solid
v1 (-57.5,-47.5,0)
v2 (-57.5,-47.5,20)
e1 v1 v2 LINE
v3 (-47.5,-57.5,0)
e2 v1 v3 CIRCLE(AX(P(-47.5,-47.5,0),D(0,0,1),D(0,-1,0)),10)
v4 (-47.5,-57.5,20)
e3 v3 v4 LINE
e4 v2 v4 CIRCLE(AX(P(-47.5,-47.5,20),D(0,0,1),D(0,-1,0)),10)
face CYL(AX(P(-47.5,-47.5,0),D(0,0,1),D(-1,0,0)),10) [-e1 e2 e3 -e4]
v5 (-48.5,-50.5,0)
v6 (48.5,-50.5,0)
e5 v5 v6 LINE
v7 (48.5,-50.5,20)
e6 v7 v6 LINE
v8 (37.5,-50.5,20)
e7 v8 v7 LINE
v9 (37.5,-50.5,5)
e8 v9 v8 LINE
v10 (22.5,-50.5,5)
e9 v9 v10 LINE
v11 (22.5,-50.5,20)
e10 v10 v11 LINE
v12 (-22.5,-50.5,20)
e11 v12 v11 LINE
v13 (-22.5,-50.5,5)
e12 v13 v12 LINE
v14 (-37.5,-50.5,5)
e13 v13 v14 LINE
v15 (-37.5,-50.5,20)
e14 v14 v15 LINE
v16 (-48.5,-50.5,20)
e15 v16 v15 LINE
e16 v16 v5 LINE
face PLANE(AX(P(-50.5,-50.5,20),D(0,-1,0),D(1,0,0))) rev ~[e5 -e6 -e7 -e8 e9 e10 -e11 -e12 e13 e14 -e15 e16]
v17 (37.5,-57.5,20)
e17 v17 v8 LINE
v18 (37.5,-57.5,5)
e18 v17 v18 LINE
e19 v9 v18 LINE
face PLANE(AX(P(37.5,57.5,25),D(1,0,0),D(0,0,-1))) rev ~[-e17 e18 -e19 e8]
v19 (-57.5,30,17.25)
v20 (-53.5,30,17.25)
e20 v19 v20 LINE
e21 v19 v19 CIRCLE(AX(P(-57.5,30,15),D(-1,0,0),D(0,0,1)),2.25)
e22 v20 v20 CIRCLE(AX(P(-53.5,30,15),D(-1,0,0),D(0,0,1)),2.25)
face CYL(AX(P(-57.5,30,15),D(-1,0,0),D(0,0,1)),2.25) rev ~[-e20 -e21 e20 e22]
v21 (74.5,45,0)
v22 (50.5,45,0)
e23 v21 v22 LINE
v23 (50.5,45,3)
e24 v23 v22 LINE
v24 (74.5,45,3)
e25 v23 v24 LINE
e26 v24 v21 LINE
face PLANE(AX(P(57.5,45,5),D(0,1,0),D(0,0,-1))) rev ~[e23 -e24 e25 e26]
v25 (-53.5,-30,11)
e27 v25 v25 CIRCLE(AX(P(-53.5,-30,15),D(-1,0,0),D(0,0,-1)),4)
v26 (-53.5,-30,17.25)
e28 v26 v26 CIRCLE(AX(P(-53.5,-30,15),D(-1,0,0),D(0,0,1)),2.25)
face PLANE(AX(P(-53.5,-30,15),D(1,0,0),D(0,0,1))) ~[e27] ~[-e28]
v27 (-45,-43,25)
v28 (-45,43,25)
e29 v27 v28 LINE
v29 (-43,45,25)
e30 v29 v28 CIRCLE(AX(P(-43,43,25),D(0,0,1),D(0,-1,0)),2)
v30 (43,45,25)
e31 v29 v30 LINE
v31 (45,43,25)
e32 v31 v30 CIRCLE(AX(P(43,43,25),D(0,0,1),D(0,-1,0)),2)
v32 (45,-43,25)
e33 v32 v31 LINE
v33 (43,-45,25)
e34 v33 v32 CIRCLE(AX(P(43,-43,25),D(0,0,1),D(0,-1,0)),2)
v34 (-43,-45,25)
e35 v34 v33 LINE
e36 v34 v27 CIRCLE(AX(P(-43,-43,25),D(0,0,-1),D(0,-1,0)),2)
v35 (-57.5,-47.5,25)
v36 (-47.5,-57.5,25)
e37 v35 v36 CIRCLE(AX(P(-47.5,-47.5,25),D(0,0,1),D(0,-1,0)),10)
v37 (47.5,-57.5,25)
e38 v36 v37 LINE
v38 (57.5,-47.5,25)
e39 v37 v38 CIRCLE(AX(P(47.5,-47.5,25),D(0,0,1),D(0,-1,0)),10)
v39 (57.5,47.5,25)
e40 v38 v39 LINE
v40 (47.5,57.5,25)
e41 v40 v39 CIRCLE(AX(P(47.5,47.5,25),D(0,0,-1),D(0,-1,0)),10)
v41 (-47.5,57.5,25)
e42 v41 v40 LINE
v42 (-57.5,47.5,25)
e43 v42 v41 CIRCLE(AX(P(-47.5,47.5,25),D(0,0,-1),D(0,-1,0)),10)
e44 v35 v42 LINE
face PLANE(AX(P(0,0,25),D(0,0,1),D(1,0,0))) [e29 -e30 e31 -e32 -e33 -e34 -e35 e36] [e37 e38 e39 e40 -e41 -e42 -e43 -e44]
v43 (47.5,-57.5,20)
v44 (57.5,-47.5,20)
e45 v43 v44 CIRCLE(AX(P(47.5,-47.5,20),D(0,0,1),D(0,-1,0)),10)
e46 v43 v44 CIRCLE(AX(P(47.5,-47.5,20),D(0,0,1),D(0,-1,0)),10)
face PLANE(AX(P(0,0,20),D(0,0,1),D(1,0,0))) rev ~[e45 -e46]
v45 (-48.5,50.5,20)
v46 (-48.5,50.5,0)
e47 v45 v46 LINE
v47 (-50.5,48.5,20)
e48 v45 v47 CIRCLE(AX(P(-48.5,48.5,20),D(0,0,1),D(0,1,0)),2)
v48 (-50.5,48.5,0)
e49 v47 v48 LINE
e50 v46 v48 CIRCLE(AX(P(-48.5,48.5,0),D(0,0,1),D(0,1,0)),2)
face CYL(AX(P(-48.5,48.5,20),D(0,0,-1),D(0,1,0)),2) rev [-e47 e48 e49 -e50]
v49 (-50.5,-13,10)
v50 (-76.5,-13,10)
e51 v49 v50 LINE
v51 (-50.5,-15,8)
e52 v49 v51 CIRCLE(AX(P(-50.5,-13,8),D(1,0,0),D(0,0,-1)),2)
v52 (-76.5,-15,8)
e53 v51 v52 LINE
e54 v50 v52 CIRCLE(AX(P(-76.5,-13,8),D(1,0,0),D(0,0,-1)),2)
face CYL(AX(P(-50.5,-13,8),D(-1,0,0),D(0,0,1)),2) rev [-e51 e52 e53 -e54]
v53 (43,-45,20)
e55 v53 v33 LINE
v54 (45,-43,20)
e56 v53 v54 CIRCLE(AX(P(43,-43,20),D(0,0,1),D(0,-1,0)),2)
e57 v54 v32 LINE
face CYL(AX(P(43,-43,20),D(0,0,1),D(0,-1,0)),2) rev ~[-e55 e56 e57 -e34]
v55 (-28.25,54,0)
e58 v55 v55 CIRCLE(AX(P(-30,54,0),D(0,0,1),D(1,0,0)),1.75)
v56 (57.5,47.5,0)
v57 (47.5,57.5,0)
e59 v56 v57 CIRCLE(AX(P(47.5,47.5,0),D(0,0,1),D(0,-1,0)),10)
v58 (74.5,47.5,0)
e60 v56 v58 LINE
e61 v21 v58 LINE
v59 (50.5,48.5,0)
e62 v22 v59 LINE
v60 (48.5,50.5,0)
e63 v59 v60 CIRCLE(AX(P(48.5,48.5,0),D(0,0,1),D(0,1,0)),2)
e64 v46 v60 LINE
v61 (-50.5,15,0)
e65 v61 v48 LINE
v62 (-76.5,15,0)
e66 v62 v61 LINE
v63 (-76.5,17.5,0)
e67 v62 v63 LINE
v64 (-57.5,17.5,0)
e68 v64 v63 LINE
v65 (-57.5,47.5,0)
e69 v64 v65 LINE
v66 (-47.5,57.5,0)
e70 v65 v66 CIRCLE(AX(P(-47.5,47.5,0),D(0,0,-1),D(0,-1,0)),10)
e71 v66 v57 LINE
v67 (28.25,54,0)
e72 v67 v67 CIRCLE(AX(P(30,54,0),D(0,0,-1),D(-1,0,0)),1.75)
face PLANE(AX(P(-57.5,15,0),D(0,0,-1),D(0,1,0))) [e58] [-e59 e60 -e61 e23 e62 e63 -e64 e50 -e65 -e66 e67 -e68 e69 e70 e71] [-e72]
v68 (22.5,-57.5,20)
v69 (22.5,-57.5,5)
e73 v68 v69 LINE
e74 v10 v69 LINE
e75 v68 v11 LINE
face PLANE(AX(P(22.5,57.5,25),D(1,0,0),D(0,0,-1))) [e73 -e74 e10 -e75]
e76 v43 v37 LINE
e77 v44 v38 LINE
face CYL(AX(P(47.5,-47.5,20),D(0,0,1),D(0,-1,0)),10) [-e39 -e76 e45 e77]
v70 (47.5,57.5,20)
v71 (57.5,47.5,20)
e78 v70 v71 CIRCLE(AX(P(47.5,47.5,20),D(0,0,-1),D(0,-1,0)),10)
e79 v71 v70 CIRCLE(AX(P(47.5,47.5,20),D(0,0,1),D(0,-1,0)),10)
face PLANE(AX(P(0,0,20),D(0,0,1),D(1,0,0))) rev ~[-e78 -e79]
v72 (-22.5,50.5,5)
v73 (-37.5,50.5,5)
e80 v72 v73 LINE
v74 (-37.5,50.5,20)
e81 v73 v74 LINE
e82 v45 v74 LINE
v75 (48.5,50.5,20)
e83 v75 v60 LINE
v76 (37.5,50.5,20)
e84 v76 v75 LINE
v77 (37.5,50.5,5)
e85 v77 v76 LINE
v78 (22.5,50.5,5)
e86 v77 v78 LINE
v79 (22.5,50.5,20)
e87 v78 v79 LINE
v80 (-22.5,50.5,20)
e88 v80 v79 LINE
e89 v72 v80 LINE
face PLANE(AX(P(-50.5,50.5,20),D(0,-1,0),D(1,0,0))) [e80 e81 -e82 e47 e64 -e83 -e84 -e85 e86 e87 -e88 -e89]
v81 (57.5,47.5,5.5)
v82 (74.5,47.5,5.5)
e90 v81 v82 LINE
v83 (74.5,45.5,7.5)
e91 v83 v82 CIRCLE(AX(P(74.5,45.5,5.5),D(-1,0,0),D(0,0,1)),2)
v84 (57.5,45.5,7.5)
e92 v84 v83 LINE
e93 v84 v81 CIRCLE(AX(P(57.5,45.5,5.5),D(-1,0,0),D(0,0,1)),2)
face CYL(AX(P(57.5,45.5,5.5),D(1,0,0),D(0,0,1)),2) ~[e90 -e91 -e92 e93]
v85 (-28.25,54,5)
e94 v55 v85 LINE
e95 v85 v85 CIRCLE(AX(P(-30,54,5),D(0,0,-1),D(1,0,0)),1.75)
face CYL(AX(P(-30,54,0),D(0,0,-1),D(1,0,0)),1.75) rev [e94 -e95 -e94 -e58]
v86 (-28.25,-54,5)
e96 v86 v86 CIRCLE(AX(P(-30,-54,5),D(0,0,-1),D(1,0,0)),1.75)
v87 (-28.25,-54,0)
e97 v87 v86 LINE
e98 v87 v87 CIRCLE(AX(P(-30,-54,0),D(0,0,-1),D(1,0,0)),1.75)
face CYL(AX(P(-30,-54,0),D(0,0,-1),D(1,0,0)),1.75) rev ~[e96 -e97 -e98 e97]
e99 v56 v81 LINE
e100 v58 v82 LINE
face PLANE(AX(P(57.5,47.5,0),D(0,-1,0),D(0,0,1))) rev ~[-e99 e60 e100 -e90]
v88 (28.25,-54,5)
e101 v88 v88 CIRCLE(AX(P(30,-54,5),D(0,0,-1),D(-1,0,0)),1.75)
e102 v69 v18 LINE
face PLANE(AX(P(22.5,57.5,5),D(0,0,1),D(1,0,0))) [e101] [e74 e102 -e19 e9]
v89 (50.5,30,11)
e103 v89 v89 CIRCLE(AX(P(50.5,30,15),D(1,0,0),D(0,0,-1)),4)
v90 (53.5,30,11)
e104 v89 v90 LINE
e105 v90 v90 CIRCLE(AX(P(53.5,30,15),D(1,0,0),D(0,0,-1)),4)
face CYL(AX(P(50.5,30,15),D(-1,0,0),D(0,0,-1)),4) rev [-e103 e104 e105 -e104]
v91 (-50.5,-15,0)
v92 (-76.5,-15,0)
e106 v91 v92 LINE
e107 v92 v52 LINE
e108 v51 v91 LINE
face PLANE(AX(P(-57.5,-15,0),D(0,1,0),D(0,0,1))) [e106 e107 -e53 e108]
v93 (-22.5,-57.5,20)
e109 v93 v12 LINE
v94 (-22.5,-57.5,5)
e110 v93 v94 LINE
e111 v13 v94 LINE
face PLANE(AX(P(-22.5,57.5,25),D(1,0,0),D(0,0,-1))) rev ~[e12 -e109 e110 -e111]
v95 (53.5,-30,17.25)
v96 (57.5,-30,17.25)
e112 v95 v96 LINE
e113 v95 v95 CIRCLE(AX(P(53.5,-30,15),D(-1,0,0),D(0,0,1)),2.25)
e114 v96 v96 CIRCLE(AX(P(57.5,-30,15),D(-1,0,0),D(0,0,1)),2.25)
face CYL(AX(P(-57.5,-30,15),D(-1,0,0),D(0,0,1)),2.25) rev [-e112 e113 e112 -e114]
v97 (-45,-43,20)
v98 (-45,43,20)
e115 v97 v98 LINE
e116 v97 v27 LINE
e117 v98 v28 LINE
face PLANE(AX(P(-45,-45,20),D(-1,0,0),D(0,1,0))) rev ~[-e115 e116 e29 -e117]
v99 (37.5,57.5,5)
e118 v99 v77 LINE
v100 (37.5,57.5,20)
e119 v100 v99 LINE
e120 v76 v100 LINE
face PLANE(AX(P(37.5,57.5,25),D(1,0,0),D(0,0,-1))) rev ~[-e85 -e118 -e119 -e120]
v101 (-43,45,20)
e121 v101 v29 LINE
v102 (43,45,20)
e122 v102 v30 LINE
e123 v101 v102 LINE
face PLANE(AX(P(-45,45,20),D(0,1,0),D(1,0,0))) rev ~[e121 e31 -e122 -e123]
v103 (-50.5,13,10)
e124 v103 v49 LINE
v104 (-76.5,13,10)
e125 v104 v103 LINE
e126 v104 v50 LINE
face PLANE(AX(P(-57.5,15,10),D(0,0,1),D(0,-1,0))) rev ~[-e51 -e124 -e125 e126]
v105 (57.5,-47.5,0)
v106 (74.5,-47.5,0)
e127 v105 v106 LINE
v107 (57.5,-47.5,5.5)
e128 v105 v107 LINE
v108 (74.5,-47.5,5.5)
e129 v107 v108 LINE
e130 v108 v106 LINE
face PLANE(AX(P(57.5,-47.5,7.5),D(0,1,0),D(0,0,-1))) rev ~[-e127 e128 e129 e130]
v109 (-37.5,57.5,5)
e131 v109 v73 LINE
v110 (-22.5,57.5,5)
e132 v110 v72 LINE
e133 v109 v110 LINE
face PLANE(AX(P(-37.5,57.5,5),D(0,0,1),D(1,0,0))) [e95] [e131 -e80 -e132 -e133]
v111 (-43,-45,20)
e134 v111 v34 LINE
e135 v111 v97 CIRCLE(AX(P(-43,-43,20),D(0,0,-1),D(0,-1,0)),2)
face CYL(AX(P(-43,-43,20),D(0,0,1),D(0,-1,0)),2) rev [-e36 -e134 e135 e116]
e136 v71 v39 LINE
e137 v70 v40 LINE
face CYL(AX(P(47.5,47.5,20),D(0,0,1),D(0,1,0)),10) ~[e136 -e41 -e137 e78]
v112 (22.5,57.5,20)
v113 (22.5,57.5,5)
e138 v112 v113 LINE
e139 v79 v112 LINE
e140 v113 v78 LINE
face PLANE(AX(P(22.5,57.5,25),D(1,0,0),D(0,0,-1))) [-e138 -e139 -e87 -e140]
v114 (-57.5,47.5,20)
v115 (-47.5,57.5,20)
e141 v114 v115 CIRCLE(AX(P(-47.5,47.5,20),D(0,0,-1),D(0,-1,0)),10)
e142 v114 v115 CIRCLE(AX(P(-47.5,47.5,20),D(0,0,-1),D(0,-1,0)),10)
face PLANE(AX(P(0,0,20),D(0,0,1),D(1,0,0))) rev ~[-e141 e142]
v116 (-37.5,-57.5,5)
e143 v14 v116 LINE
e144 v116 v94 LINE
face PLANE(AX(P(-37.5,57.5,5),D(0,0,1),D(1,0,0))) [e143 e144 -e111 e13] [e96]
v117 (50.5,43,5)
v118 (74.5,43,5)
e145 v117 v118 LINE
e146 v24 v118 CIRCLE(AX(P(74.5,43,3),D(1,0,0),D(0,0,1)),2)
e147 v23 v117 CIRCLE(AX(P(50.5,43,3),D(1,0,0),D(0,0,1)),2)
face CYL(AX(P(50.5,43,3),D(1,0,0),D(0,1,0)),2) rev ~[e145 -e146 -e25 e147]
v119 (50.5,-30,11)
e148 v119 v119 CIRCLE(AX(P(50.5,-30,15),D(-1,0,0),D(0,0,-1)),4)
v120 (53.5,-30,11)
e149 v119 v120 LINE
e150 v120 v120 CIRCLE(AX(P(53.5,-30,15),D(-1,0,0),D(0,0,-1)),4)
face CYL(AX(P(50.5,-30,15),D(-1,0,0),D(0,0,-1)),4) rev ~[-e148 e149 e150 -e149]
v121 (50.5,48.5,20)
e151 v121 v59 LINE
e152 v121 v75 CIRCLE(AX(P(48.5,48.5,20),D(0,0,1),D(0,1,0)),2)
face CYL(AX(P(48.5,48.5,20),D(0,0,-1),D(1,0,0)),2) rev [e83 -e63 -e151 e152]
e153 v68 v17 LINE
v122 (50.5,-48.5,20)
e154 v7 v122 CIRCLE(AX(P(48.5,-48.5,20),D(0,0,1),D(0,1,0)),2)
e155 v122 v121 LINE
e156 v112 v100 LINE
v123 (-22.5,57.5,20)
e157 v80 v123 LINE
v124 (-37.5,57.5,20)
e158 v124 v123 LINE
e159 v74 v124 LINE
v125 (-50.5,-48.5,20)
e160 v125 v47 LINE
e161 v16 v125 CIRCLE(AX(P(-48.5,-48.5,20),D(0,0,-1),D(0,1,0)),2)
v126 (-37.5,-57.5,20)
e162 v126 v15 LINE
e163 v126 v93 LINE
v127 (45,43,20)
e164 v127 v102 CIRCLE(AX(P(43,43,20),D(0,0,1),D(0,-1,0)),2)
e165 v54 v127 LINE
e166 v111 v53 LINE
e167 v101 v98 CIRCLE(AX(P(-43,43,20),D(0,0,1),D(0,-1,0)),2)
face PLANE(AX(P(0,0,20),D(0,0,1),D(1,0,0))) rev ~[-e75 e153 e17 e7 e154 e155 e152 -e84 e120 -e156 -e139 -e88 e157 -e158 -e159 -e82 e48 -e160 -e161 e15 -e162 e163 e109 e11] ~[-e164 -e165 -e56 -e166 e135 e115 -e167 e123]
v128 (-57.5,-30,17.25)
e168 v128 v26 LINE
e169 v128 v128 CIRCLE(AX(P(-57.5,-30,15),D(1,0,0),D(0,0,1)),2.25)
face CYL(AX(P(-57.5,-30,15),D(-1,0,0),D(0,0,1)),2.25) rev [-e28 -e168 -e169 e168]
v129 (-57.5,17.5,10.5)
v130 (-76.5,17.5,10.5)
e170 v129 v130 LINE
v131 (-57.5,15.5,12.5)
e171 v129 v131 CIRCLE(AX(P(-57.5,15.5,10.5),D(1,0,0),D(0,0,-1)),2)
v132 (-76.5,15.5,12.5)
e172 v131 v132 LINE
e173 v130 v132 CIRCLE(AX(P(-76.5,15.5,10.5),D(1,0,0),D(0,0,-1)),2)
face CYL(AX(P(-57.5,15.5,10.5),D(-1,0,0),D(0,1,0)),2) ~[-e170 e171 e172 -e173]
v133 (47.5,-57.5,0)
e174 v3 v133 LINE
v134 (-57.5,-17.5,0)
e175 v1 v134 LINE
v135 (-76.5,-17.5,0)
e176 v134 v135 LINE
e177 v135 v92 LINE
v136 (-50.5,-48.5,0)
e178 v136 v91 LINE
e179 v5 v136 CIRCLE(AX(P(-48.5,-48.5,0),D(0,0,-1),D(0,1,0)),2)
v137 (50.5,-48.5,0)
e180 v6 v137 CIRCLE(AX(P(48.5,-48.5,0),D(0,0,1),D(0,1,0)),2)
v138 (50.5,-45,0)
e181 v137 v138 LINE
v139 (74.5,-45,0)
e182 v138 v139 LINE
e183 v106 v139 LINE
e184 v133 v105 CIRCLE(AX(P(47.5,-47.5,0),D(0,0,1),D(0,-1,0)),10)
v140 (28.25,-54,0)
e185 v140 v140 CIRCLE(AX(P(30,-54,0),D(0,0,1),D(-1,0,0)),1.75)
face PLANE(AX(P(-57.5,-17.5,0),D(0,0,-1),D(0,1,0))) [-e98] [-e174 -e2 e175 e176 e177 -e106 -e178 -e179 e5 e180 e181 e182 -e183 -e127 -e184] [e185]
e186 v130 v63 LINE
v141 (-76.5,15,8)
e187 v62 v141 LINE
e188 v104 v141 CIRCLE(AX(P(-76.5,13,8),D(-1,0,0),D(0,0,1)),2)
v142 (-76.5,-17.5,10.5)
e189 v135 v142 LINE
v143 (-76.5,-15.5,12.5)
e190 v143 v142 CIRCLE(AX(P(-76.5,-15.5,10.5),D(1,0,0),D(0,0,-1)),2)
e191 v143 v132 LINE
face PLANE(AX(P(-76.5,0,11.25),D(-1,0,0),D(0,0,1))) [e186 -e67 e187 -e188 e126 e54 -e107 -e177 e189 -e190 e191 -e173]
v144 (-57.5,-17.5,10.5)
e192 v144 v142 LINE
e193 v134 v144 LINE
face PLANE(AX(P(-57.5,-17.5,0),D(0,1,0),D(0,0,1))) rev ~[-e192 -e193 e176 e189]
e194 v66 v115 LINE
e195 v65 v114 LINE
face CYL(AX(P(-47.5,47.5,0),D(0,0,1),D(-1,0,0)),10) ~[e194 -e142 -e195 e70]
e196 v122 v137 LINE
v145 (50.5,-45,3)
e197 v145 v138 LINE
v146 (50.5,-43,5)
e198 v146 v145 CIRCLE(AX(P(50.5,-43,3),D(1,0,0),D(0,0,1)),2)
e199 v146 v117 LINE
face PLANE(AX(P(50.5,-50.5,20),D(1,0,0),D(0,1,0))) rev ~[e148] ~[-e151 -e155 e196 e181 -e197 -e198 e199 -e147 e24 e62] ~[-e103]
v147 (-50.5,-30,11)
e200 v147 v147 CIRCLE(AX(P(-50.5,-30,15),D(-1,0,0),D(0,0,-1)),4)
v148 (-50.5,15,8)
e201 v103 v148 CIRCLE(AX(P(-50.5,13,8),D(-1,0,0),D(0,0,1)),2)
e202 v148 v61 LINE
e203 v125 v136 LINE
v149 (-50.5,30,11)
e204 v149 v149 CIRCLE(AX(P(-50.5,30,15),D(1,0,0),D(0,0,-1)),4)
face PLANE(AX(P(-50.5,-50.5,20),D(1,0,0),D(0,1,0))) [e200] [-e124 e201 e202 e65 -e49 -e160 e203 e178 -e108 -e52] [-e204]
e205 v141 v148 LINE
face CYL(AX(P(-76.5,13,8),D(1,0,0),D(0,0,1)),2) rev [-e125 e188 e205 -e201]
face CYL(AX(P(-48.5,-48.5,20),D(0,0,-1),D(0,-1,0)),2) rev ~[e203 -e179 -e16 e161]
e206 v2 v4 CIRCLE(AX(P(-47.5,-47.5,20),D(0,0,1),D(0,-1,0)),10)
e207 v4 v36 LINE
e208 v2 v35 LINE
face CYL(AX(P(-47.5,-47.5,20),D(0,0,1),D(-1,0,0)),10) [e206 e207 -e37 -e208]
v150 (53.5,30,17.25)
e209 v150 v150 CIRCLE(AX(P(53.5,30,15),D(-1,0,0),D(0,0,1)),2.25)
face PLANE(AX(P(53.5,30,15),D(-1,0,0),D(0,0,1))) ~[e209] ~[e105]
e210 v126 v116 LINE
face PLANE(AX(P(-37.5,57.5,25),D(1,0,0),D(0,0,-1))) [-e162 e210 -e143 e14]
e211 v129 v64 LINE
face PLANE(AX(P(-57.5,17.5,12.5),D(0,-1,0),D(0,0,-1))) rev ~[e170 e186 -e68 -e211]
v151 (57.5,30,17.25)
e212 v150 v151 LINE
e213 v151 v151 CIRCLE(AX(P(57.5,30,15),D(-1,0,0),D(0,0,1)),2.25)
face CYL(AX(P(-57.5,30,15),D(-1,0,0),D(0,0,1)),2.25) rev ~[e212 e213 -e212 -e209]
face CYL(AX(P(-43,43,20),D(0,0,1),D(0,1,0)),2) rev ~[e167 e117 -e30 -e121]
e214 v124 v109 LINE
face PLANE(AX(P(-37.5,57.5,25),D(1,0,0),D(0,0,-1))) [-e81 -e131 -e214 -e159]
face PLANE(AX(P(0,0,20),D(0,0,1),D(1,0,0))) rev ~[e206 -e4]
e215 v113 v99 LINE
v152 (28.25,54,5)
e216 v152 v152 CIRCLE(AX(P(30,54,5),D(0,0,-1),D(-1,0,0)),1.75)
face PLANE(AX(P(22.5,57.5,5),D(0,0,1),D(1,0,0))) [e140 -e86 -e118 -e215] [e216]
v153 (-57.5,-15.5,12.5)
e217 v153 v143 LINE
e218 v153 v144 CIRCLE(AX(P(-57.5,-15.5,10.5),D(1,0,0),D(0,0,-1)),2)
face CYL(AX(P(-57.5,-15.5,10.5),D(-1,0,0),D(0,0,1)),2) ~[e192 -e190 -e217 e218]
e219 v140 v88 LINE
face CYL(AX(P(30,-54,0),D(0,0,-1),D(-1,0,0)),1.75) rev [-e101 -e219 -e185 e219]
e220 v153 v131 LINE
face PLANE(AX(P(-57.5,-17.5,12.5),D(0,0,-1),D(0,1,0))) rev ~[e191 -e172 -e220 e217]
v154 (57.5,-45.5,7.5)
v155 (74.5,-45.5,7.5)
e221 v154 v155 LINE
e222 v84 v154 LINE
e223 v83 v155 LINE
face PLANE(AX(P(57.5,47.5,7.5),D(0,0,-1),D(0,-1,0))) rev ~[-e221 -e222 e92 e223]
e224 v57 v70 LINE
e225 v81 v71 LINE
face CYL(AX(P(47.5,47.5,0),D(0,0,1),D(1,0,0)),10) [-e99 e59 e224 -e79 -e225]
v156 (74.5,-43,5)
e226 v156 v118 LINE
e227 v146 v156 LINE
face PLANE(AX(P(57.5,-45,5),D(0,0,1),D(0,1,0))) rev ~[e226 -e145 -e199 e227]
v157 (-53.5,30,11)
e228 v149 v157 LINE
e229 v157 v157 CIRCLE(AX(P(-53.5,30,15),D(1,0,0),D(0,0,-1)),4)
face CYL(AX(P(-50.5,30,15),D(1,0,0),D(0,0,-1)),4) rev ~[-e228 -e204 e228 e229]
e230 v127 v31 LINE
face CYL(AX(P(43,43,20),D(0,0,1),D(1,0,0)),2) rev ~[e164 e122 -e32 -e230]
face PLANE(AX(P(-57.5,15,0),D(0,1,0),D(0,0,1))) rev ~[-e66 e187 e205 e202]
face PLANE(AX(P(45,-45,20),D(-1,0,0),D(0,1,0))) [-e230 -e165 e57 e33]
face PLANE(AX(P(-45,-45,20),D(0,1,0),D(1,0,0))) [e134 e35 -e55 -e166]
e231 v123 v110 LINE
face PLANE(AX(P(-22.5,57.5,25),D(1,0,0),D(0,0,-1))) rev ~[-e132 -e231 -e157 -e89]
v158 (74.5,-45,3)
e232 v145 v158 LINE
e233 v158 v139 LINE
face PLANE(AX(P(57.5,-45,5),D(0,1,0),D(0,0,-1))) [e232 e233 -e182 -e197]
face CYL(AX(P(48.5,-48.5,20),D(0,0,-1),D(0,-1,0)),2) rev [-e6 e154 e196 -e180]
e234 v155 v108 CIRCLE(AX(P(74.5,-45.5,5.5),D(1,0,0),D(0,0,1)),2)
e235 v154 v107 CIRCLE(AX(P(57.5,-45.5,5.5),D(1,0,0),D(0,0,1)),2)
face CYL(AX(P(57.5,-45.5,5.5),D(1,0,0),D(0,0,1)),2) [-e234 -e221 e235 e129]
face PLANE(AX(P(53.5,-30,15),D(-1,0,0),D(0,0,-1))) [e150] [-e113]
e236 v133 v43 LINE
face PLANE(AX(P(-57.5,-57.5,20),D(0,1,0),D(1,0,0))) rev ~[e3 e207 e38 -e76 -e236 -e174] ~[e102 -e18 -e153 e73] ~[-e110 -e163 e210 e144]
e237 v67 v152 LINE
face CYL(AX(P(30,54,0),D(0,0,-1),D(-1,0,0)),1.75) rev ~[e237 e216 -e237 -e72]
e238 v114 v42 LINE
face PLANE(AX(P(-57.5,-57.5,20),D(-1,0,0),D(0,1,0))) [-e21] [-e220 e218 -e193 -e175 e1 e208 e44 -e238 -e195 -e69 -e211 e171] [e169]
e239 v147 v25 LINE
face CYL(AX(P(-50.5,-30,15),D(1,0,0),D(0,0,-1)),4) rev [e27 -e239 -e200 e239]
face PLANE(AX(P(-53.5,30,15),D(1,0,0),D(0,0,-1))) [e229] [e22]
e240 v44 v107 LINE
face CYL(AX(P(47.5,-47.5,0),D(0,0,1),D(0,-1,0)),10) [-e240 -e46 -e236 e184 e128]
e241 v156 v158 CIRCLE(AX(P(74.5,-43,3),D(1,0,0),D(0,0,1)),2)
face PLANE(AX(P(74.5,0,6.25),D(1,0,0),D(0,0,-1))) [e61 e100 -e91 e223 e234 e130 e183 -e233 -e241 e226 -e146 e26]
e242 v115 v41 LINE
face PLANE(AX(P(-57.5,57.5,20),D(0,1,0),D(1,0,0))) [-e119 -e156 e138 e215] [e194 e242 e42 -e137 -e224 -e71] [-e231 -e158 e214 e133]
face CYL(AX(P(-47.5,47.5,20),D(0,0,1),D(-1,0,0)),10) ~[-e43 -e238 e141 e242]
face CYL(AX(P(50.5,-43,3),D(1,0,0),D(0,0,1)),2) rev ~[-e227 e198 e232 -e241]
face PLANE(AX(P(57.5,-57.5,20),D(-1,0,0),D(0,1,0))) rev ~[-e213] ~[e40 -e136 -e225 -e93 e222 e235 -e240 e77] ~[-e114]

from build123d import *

# Parameters (mm, degrees)
SKETCH1_W                                  = 115
SKETCH1_H                                  = 115
BOSS_EXTRUDE1_DEPTH                        = 20
FILLET1_R                                  = 10
SKETCH2_W                                  = 101
SKETCH2_H                                  = 101
CUT_EXTRUDE1_DEPTH                         = 30
FILLET2_R                                  = 2
SKETCH3_W                                  = 10
SKETCH3_H                                  = 90
CUT_EXTRUDE2_DEPTH                         = 30
SKETCH4_W                                  = 5
SKETCH4_H                                  = 2.5
BOSS_EXTRUDE2_DEPTH                        = 17
FILLET3_R                                  = 2
SKETCH5_W                                  = 20
SKETCH5_H                                  = 30
CUT_EXTRUDE3_DEPTH                         = 22
SKETCH6_W                                  = 10
SKETCH6_H                                  = 2.5
BOSS_EXTRUDE3_DEPTH                        = 19
FILLET4_R                                  = 2
SKETCH7_W                                  = 15
SKETCH7_H                                  = 20
CUT_EXTRUDE4_DEPTH                         = 120
SKETCH9_R                                  = 1.75
CUT_EXTRUDE6_DEPTH                         = 10
MIRROR2_AT_THE_SECOND_PLANE_COPY_1_SKETC_R = 1.75
MIRROR2_AT_THE_SECOND_PLANE_COPY_1_DEPTH   = 10
SKETCH11_R                                 = 2.25
CUT_EXTRUDE7_DEPTH                         = 125
SKETCH12_R                                 = 4
CUT_EXTRUDE8_DEPTH                         = 3
MIRROR4_AT_THE_SECOND_PLANE_COPY_1_SKETC_R = 4
MIRROR4_AT_THE_SECOND_PLANE_COPY_1_DEPTH   = 3
SKETCH14_W                                 = 115
SKETCH14_H                                 = 115
SKETCH14_W_2                               = 90
SKETCH14_H_2                               = 90
BOSS_EXTRUDE4_DEPTH                        = 5
FILLET5_R                                  = 10
FILLET6_R                                  = 2


with BuildPart() as part:
    # Sketch1 → Boss-Extrude1 (new body)
    with BuildSketch(Plane.XY):
        Rectangle(SKETCH1_W, SKETCH1_H)
    extrude(amount=BOSS_EXTRUDE1_DEPTH)

    # Fillet1
    fillet1_edges = [part.edges().sort_by_distance(p)[0] for p in [
        (-57.5, 57.5, 10),
        (57.5, 57.5, 10),
        (57.5, -57.5, 10),
        (-57.5, -57.5, 10),
    ]]
    fillet(fillet1_edges, radius=FILLET1_R)

    # Sketch2 → Cut-Extrude1 (cut)
    with BuildSketch(Plane.XY.offset(20)):
        Rectangle(SKETCH2_W, SKETCH2_H)
    extrude(amount=-CUT_EXTRUDE1_DEPTH, mode=Mode.SUBTRACT)

    # Fillet2
    fillet2_edges = [part.edges().sort_by_distance(p)[0] for p in [
        (-50.5, -50.5, 10),
        (-50.5, 50.5, 10),
        (50.5, 50.5, 10),
        (50.5, -50.5, 10),
    ]]
    fillet(fillet2_edges, radius=FILLET2_R)

    # Sketch3 → Cut-Extrude2 (cut)
    with BuildSketch(Plane(origin=(57.5, 0, 0), x_dir=(0, 0, -1), z_dir=(1, 0, 0))):
        Rectangle(SKETCH3_W, SKETCH3_H)
    extrude(amount=-CUT_EXTRUDE2_DEPTH, mode=Mode.SUBTRACT)

    # Sketch4 → Boss-Extrude2 (add)
    with BuildSketch(Plane(origin=(57.5, 0, 0), x_dir=(0, 0, -1), z_dir=(1, 0, 0))):
        Polygon((-5, -45), (-5, 45), (-5, 47.5), (-7.5, 47.5), (-7.5, -47.5), (-5, -47.5), align=None)
        with Locations((-2.5, 46.25)):
            Rectangle(SKETCH4_W, SKETCH4_H)
        with Locations((-2.5, -46.25)):
            Rectangle(SKETCH4_W, SKETCH4_H)
    extrude(amount=BOSS_EXTRUDE2_DEPTH)

    # Fillet3
    fillet3_edges = [part.edges().sort_by_distance(p)[0] for p in [
        (66, 47.5, 7.5),
        (66, -47.5, 7.5),
        (62.5, -45, 5),
        (62.5, 45, 5),
    ]]
    fillet(fillet3_edges, radius=FILLET3_R)

    # Sketch5 → Cut-Extrude3 (cut)
    with BuildSketch(Plane.ZY.offset(57.5)):
        Rectangle(SKETCH5_W, SKETCH5_H)
    extrude(amount=-CUT_EXTRUDE3_DEPTH, mode=Mode.SUBTRACT)

    # Sketch6 → Boss-Extrude3 (add)
    with BuildSketch(Plane.ZY.offset(57.5)):
        Polygon((10, 17.5), (10, 15), (10, -15), (10, -17.5), (12.5, -17.5), (12.5, 17.5), align=None)
        with Locations((5, 16.25)):
            Rectangle(SKETCH6_W, SKETCH6_H)
        with Locations((5, -16.25)):
            Rectangle(SKETCH6_W, SKETCH6_H)
    extrude(amount=BOSS_EXTRUDE3_DEPTH)

    # Fillet4
    fillet4_edges = [part.edges().sort_by_distance(p)[0] for p in [
        (-63.5, 15, 10),
        (-63.5, -15, 10),
        (-67, -17.5, 12.5),
        (-67, 17.5, 12.5),
    ]]
    fillet(fillet4_edges, radius=FILLET4_R)

    # Sketch7 → Cut-Extrude4 (cut)
    with BuildSketch(Plane(origin=(0, 57.5, 0), x_dir=(1, 0, 0), z_dir=(0, 1, 0))):
        with Locations((-30, -15)):
            Rectangle(SKETCH7_W, SKETCH7_H)
        with Locations((30, -15)):
            Rectangle(SKETCH7_W, SKETCH7_H)
    extrude(amount=-CUT_EXTRUDE4_DEPTH, mode=Mode.SUBTRACT)

    # Sketch9 → Cut-Extrude6 (cut)
    with BuildSketch(Plane(origin=(0, 0, 0), x_dir=(-1, 0, 0), z_dir=(0, 0, -1))):
        with Locations((-30, 54)):
            Circle(SKETCH9_R)
    cut_extrude6 = extrude(amount=-CUT_EXTRUDE6_DEPTH, mode=Mode.SUBTRACT)

    # Mirror2: Cut-Extrude6 across plane
    add(cut_extrude6.mirror(Plane(origin=(0, 0, 0), x_dir=(0, 0, 1), z_dir=(1, 0, 0))), mode=Mode.SUBTRACT)

    # Mirror2 at the second plane: Cut-Extrude6 across plane
    add(cut_extrude6.mirror(Plane.ZX), mode=Mode.SUBTRACT)

    # Mirror2 at the second plane copy 1 sketc → Mirror2 at the second plane copy 1 (cut)
    with BuildSketch(Plane(origin=(0, 0, 0), x_dir=(1, 0, 0), z_dir=(0, 0, -1))):
        with Locations((-30, 54)):
            Circle(MIRROR2_AT_THE_SECOND_PLANE_COPY_1_SKETC_R)
    extrude(amount=-MIRROR2_AT_THE_SECOND_PLANE_COPY_1_DEPTH, mode=Mode.SUBTRACT)

    # Sketch11 → Cut-Extrude7 (cut)
    with BuildSketch(Plane.ZY.offset(57.5)):
        with Locations((15, 30)):
            Circle(SKETCH11_R)
    cut_extrude7 = extrude(amount=-CUT_EXTRUDE7_DEPTH, mode=Mode.SUBTRACT)

    # Mirror3: Cut-Extrude7 across plane
    add(cut_extrude7.mirror(Plane.ZX), mode=Mode.SUBTRACT)

    # Sketch12 → Cut-Extrude8 (cut)
    with BuildSketch(Plane(origin=(-50.5, 0, 0), x_dir=(0, 0, -1), z_dir=(1, 0, 0))):
        with Locations((-15, 30)):
            Circle(SKETCH12_R)
    cut_extrude8 = extrude(amount=-CUT_EXTRUDE8_DEPTH, mode=Mode.SUBTRACT)

    # Mirror4: Cut-Extrude8 across plane
    add(cut_extrude8.mirror(Plane(origin=(0, 0, 0), x_dir=(0, 0, 1), z_dir=(1, 0, 0))), mode=Mode.SUBTRACT)

    # Mirror4 at the second plane: Cut-Extrude8 across plane
    add(cut_extrude8.mirror(Plane.ZX), mode=Mode.SUBTRACT)

    # Mirror4 at the second plane copy 1 sketc → Mirror4 at the second plane copy 1 (cut)
    with BuildSketch(Plane(origin=(50.5, 0, 0), x_dir=(0, 0, -1), z_dir=(-1, 0, 0))):
        with Locations((-15, 30)):
            Circle(MIRROR4_AT_THE_SECOND_PLANE_COPY_1_SKETC_R)
    extrude(amount=-MIRROR4_AT_THE_SECOND_PLANE_COPY_1_DEPTH, mode=Mode.SUBTRACT)

    # Sketch14 → Boss-Extrude4 (add)
    with BuildSketch(Plane.XY.offset(20)):
        Rectangle(SKETCH14_W, SKETCH14_H)
        Rectangle(SKETCH14_W_2, SKETCH14_H_2, mode=Mode.SUBTRACT)
    extrude(amount=BOSS_EXTRUDE4_DEPTH)

    # Fillet5
    fillet5_edges = [part.edges().sort_by_distance(p)[0] for p in [
        (-57.5, -57.5, 22.5),
        (57.5, -57.5, 22.5),
        (-57.5, 57.5, 22.5),
        (57.5, 57.5, 22.5),
    ]]
    fillet(fillet5_edges, radius=FILLET5_R)

    # Fillet6
    fillet6_edges = [part.edges().sort_by_distance(p)[0] for p in [
        (-45, -45, 22.5),
        (45, -45, 22.5),
        (45, 45, 22.5),
        (-45, 45, 22.5),
    ]]
    fillet(fillet6_edges, radius=FILLET6_R)


solid = part.part
